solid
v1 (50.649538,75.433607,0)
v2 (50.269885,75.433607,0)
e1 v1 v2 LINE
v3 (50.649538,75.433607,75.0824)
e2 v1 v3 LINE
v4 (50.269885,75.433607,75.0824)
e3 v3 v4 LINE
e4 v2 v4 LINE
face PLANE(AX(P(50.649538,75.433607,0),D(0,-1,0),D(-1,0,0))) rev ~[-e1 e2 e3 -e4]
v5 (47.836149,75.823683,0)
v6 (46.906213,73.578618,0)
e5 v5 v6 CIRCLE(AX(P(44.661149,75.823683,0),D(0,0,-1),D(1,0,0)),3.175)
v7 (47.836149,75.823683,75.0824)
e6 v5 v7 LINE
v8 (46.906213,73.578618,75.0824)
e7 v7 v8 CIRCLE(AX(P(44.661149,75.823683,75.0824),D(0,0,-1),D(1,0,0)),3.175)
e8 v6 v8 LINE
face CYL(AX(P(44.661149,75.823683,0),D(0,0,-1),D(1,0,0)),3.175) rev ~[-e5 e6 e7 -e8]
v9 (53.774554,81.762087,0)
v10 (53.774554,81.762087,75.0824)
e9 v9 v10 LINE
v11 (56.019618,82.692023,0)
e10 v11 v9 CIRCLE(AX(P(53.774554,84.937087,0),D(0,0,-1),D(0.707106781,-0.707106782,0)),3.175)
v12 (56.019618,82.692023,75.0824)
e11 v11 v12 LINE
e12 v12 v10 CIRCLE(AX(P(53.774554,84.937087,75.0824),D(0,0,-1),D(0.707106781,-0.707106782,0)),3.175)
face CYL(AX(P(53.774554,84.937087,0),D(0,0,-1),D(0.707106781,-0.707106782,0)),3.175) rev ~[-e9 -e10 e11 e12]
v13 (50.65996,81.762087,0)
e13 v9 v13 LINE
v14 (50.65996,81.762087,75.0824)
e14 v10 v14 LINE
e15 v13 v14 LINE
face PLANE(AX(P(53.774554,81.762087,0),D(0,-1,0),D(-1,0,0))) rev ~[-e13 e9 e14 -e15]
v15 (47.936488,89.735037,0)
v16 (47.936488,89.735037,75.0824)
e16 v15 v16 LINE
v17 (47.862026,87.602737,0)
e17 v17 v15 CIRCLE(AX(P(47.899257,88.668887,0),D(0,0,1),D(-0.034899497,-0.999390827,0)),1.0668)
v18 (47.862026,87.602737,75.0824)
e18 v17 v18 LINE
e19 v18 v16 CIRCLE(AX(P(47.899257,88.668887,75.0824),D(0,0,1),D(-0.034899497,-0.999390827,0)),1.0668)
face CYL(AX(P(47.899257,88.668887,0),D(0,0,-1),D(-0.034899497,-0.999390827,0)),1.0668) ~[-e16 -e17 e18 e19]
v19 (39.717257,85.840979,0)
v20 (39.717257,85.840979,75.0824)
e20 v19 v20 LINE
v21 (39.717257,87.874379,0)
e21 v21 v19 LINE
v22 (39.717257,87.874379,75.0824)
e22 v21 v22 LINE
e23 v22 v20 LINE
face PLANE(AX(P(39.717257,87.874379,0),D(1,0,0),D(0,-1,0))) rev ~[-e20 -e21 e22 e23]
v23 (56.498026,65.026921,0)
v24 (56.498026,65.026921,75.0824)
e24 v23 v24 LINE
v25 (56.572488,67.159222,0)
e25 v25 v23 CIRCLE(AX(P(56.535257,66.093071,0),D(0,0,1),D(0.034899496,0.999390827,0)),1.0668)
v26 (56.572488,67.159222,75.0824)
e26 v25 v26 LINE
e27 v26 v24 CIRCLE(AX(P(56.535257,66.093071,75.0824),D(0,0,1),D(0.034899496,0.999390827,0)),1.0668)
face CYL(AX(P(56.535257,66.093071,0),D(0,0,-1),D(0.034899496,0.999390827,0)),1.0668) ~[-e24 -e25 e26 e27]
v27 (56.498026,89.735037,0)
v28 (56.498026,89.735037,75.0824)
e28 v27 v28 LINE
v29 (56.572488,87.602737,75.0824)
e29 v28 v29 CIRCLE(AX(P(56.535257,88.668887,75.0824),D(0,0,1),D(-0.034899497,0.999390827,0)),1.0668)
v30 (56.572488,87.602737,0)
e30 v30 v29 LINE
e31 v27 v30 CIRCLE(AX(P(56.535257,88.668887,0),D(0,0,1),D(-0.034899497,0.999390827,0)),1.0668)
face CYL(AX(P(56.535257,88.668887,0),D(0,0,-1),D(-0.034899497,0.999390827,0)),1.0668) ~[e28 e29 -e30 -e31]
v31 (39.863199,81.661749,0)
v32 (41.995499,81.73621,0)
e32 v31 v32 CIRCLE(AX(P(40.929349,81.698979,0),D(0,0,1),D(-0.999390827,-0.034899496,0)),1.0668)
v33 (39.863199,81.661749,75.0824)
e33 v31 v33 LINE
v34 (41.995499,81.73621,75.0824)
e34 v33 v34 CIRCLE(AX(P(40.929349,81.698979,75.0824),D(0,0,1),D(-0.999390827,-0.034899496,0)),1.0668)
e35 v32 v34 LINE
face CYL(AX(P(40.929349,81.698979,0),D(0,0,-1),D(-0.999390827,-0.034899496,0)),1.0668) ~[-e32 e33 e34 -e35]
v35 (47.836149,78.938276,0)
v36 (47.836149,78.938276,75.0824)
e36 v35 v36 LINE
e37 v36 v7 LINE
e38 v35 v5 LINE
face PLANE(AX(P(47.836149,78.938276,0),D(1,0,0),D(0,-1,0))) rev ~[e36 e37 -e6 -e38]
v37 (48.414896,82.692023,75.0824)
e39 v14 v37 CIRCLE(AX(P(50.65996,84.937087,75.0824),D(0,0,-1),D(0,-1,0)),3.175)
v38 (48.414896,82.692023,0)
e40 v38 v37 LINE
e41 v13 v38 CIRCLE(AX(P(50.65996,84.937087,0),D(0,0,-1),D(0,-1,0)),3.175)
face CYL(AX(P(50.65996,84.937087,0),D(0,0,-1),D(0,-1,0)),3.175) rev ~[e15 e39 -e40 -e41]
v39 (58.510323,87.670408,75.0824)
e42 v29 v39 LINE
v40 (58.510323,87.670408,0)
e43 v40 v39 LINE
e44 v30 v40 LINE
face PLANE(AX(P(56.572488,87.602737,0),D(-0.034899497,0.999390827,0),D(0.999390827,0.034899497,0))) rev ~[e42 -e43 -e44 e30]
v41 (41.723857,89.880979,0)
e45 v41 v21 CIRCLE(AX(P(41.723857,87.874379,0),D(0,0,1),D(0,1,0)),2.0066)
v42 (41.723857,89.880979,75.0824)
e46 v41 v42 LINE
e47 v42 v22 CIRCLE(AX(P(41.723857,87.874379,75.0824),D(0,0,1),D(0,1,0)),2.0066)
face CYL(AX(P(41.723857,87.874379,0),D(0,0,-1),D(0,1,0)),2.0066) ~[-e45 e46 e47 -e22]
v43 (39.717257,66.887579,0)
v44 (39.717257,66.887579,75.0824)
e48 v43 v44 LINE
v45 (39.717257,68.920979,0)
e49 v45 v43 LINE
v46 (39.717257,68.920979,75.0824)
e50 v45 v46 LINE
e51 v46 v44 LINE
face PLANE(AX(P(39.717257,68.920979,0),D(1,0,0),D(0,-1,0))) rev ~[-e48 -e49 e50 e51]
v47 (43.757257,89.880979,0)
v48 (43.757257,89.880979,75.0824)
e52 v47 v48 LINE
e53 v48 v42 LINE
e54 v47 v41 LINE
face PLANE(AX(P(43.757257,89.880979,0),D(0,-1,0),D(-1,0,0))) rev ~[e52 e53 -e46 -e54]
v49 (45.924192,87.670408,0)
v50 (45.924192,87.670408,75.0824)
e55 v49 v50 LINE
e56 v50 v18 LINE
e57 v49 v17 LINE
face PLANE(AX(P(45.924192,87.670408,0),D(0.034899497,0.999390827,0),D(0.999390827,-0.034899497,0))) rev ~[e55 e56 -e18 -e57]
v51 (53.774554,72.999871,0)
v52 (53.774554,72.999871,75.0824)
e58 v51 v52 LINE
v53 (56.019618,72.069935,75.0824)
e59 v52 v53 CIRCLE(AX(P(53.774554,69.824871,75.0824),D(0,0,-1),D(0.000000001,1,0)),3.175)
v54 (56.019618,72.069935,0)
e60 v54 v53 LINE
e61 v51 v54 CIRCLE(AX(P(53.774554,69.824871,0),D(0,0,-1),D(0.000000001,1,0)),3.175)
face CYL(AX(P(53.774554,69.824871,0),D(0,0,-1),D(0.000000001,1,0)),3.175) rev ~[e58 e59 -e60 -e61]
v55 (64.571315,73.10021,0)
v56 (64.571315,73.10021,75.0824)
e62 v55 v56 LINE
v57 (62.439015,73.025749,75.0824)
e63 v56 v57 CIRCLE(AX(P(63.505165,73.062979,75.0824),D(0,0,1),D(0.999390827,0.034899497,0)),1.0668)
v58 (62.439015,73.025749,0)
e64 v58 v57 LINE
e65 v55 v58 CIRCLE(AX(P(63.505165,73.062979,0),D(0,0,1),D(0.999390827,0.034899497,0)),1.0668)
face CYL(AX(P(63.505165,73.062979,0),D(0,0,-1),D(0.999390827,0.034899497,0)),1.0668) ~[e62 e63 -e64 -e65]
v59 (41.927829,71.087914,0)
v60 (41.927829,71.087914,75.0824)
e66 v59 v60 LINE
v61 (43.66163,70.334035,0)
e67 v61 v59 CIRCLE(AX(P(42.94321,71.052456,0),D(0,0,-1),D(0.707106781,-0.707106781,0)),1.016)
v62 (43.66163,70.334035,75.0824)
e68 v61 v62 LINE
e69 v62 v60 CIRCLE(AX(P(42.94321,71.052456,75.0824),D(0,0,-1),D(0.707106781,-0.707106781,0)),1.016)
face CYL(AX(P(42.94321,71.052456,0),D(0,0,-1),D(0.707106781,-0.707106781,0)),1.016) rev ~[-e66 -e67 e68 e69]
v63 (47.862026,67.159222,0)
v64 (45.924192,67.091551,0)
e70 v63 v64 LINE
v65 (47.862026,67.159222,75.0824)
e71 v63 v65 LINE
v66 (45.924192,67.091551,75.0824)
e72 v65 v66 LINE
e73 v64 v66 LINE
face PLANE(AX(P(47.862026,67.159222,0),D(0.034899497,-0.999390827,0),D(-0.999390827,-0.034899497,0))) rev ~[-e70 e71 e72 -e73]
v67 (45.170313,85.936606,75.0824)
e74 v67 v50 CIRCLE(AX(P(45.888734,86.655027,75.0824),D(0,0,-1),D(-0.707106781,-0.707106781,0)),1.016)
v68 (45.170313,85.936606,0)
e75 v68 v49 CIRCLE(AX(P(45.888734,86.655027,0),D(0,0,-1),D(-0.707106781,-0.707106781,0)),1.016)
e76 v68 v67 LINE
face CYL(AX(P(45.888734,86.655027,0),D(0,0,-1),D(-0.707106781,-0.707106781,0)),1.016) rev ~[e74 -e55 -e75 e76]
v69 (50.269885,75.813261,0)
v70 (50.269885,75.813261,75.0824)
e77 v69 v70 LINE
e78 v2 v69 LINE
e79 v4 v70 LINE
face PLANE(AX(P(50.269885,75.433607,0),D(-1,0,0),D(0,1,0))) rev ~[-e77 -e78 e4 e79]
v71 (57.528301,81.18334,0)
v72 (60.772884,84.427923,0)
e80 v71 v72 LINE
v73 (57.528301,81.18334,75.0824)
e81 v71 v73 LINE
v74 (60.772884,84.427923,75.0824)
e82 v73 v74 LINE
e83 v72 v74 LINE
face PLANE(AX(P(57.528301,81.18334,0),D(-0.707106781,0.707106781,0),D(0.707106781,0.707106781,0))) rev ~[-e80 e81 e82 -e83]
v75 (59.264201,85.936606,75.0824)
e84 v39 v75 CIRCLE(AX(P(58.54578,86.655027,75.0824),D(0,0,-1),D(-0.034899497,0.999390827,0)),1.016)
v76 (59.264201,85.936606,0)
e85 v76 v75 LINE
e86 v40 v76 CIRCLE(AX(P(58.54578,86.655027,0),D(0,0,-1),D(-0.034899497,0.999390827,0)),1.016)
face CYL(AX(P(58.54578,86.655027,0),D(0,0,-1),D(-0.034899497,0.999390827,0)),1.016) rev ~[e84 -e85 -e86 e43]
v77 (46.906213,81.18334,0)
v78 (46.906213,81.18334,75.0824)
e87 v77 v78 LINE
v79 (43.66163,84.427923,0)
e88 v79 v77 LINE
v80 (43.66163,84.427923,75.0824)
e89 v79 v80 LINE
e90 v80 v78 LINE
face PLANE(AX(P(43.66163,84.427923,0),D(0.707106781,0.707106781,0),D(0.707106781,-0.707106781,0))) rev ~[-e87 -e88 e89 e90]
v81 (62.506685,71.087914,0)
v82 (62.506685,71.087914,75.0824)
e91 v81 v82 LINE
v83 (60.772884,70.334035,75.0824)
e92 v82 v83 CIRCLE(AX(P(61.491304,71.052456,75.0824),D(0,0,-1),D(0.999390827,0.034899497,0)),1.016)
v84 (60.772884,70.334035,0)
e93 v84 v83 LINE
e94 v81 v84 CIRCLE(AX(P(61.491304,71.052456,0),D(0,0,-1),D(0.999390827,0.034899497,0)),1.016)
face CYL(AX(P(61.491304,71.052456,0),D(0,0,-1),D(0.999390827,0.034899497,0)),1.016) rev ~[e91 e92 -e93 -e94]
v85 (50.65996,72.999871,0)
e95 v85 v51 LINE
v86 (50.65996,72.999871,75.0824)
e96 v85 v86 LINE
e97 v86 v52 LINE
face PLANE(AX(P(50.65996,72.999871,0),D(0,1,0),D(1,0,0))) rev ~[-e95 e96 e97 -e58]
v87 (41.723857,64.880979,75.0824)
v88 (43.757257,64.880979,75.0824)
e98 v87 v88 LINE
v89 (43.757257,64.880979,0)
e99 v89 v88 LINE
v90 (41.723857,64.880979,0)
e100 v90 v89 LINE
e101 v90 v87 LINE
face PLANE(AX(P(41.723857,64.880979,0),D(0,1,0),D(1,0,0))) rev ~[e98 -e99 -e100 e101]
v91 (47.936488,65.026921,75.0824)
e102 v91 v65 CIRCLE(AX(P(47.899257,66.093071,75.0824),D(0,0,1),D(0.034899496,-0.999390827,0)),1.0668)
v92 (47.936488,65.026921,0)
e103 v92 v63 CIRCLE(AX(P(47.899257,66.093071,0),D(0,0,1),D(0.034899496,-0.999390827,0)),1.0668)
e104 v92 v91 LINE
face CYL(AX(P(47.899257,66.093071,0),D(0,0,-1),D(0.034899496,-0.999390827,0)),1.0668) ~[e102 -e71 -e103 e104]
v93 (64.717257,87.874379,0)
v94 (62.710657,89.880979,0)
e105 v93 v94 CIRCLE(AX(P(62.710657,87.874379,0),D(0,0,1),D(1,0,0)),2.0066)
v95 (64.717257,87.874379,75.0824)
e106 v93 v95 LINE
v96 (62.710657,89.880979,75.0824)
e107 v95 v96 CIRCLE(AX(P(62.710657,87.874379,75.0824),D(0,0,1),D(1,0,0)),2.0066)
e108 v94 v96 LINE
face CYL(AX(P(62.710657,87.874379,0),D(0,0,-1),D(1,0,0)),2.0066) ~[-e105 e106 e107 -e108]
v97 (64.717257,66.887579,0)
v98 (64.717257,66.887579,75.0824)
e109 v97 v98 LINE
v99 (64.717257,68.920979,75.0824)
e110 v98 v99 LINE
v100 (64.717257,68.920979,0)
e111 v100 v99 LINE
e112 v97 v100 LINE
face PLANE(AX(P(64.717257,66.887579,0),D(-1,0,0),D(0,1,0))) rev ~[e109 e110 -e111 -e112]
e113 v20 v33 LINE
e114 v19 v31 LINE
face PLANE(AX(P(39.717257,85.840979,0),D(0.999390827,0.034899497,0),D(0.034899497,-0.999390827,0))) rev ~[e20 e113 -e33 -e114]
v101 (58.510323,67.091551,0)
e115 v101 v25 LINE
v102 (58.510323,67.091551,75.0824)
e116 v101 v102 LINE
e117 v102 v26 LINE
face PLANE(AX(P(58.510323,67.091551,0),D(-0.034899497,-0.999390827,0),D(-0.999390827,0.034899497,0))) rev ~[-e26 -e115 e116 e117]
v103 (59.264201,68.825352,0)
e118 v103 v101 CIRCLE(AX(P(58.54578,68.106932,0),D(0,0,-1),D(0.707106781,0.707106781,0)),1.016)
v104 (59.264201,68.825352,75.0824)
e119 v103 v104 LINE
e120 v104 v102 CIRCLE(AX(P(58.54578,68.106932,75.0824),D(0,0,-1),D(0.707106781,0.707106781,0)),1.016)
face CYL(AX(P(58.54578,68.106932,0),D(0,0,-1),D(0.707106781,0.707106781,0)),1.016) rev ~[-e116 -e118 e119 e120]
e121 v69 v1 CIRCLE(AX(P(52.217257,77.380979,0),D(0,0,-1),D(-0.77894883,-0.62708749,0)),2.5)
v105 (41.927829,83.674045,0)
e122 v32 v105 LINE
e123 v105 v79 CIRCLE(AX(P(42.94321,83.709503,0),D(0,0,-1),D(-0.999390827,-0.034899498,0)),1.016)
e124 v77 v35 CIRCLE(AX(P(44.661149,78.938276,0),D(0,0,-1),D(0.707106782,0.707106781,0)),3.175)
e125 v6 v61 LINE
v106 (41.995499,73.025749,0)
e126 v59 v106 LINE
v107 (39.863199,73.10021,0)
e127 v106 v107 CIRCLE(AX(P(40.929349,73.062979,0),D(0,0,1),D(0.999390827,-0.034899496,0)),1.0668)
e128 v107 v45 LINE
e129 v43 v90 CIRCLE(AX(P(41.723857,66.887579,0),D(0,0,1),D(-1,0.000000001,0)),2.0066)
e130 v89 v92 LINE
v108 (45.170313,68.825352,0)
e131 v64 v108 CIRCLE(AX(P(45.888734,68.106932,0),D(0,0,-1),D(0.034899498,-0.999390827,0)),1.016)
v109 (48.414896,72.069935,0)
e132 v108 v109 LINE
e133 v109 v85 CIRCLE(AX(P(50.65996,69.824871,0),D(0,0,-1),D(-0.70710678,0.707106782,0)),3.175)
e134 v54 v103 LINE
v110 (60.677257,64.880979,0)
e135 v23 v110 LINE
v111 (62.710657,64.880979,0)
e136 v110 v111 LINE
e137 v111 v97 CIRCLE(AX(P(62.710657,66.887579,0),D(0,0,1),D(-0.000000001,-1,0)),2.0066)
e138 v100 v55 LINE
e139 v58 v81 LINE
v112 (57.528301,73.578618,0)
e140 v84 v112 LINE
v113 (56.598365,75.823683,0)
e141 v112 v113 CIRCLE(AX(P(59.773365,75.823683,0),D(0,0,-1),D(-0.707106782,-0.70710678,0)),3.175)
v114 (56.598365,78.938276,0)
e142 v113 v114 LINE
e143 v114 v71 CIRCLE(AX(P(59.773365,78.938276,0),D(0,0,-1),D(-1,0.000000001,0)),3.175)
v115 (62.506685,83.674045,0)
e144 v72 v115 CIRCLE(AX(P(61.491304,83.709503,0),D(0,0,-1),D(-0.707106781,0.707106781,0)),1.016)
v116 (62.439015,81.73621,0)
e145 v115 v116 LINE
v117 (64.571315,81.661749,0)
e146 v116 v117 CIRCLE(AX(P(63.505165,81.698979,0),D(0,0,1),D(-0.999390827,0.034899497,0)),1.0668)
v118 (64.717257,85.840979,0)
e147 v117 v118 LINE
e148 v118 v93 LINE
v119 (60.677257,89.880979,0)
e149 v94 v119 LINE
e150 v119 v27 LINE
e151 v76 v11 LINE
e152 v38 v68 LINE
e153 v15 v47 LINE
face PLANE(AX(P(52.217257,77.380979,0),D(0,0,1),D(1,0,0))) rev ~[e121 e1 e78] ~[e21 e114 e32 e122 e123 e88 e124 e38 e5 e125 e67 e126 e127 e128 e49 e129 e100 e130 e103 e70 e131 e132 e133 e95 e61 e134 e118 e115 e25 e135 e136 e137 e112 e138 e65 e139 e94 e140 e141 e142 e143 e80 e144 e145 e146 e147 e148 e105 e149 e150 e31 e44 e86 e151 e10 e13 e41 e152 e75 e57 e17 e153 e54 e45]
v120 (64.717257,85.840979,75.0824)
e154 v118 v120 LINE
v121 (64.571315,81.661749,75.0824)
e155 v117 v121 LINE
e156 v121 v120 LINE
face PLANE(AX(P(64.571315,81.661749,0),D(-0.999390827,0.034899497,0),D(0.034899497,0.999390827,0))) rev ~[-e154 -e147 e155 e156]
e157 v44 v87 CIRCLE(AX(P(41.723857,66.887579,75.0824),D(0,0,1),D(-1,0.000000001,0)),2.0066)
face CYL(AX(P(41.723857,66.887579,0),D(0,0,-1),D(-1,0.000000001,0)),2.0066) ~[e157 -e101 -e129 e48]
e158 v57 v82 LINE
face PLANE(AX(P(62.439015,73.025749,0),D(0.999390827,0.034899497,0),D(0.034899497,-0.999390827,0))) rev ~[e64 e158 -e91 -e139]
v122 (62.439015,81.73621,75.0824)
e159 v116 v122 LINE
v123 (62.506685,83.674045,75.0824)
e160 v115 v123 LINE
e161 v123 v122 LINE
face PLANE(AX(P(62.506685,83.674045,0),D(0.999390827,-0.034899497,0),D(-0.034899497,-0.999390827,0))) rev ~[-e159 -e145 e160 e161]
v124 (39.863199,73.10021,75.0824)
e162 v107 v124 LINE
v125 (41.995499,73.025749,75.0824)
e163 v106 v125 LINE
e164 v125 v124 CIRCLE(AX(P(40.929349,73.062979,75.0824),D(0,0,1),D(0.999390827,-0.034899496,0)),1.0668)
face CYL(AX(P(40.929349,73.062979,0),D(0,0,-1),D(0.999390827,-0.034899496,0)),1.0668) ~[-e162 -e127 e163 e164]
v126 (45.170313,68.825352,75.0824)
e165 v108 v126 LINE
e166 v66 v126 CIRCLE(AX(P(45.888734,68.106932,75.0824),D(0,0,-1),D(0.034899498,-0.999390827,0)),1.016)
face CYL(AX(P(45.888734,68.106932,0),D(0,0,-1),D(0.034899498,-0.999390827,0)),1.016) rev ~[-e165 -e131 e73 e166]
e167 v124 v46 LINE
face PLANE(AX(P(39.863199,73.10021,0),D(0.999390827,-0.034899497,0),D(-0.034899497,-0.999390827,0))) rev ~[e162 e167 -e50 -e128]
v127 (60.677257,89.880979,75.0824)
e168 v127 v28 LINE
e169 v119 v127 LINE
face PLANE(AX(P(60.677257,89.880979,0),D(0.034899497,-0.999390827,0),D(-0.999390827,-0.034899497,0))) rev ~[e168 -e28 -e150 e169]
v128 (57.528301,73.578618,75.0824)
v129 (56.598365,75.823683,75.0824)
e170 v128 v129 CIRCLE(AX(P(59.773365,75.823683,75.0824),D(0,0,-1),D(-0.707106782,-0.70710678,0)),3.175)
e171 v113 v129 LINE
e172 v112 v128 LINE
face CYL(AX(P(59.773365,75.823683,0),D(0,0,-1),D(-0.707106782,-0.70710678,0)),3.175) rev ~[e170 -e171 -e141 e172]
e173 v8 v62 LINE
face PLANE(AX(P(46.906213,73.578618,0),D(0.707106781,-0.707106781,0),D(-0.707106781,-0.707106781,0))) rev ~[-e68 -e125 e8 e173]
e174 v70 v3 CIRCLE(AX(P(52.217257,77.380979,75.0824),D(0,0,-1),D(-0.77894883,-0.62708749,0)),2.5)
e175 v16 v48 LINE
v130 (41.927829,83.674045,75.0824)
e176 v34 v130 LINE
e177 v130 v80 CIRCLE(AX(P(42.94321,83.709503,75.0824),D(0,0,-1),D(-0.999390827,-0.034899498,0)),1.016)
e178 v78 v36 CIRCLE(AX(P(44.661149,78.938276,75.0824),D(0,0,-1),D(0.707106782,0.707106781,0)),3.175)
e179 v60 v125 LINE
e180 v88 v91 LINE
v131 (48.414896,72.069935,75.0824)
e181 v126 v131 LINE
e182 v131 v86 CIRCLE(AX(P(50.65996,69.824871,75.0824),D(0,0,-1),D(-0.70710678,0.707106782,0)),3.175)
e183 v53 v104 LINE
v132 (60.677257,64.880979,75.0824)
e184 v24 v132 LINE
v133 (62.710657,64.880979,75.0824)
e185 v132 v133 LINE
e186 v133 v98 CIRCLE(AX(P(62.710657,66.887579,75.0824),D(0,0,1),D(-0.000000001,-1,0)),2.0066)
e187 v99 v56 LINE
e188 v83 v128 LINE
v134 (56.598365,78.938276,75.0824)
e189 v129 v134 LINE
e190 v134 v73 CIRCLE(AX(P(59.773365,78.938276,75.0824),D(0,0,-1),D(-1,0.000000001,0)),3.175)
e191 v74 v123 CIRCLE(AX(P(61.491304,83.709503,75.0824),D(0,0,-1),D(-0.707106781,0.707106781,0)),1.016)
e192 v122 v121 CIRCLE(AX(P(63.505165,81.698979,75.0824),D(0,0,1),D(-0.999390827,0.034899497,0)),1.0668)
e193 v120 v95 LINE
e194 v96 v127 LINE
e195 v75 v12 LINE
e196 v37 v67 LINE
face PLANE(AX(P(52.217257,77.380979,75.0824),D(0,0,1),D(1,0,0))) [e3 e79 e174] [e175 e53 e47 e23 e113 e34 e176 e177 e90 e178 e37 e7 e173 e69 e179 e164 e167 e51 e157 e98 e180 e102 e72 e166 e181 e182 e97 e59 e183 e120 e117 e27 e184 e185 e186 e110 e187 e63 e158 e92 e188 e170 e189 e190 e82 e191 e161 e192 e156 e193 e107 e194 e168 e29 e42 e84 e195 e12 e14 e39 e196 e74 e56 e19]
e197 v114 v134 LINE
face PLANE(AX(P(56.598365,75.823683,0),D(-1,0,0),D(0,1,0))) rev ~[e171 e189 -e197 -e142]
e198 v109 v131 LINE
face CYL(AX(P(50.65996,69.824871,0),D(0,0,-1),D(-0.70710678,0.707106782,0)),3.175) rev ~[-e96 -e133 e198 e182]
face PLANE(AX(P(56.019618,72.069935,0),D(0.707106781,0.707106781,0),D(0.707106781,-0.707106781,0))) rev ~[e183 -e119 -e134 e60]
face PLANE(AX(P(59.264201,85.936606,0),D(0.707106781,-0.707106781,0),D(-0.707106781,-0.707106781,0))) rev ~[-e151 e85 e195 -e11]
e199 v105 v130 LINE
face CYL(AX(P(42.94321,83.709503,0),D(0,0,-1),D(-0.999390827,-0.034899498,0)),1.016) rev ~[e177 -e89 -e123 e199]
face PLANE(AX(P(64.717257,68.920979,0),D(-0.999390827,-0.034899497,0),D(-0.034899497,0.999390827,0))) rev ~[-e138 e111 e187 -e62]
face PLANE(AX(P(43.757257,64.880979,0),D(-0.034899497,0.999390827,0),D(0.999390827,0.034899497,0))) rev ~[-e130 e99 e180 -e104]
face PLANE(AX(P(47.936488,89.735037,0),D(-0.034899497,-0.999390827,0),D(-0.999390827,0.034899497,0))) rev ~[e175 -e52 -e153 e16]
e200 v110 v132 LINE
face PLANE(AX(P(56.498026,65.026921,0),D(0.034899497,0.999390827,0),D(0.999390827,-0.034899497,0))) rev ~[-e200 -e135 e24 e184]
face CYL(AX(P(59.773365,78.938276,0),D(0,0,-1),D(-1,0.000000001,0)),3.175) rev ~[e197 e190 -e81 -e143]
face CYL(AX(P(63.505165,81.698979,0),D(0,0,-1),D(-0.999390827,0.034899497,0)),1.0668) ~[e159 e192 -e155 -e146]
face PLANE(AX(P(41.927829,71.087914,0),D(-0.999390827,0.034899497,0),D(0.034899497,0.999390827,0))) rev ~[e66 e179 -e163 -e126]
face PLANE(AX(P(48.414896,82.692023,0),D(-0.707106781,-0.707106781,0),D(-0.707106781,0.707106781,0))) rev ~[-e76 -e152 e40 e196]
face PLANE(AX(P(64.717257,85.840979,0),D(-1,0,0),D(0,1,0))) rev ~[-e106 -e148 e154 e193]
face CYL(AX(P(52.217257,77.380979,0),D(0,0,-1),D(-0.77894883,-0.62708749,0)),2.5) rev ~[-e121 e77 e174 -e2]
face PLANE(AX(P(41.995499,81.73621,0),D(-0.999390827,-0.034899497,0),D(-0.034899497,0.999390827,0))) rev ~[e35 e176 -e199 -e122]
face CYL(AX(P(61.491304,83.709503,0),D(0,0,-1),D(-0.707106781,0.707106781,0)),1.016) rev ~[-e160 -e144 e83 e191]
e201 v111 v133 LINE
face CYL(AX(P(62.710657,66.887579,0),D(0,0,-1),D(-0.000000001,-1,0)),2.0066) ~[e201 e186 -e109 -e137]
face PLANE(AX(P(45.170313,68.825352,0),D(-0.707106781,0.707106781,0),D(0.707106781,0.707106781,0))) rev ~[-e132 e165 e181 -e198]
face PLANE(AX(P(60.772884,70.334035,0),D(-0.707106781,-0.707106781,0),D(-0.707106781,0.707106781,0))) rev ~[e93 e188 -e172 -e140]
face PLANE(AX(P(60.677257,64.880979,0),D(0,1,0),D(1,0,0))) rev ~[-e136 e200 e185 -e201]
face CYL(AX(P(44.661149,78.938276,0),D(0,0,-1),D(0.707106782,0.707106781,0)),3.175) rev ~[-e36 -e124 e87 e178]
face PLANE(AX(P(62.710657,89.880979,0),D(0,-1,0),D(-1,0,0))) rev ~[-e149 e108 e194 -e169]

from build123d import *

# Parameters (mm, degrees)
BOSS_EXTRUDE1_DEPTH = 75.0824


with BuildPart() as part:
    # Model → Boss-Extrude1 (new body)
    with BuildSketch(Plane.XY):
        with BuildLine():
            Line((50.659960212, 72.999871414), (53.774553856, 72.999871414))
            ThreePointArc((53.774553856, 72.999871414), (54.989573754, 72.758188929), (56.019617887, 72.069935444))
            Line((56.019617887, 72.069935444), (59.264200891, 68.825352439))
            ThreePointArc((59.264200891, 68.825352439), (59.477513437, 67.701802895), (58.510322513, 67.091550869))
            Line((58.510322513, 67.091550869), (56.572487817, 67.159221548))
            ThreePointArc((56.572487817, 67.159221548), (55.4691069, 66.130302197), (56.498026251, 65.026921279))
            Line((56.498026251, 65.026921279), (60.677257034, 64.880979325))
            Line((60.677257034, 64.880979325), (62.710657034, 64.880979325))
            ThreePointArc((62.710657034, 64.880979325), (64.129537501, 65.468698857), (64.717257034, 66.887579325))
            Line((64.717257034, 66.887579325), (64.717257034, 68.920979325))
            Line((64.717257034, 68.920979325), (64.57131508, 73.100210108))
            ThreePointArc((64.57131508, 73.100210108), (63.467934162, 74.129129459), (62.439014811, 73.025748542))
            Line((62.439014811, 73.025748542), (62.50668549, 71.087913846))
            ThreePointArc((62.50668549, 71.087913846), (61.896433464, 70.120722922), (60.77288392, 70.334035468))
            Line((60.77288392, 70.334035468), (57.528300915, 73.578618472))
            ThreePointArc((57.528300915, 73.578618472), (56.84004743, 74.608662605), (56.598364945, 75.823682503))
            Line((56.598364945, 75.823682503), (56.598364945, 78.938276147))
            ThreePointArc((56.598364945, 78.938276147), (56.84004743, 80.153296044), (57.528300915, 81.183340177))
            Line((57.528300915, 81.183340177), (60.77288392, 84.427923182))
            ThreePointArc((60.77288392, 84.427923182), (61.896433464, 84.641235728), (62.50668549, 83.674044803))
            Line((62.50668549, 83.674044803), (62.439014811, 81.736210108))
            ThreePointArc((62.439014811, 81.736210108), (63.467934162, 80.63282919), (64.57131508, 81.661748542))
            Line((64.57131508, 81.661748542), (64.717257034, 85.840979325))
            Line((64.717257034, 85.840979325), (64.717257034, 87.874379325))
            ThreePointArc((64.717257034, 87.874379325), (64.129537501, 89.293259792), (62.710657034, 89.880979325))
            Line((62.710657034, 89.880979325), (60.677257034, 89.880979325))
            Line((60.677257034, 89.880979325), (56.498026251, 89.73503737))
            ThreePointArc((56.498026251, 89.73503737), (55.4691069, 88.631656452), (56.572487817, 87.602737101))
            Line((56.572487817, 87.602737101), (58.510322513, 87.67040778))
            ThreePointArc((58.510322513, 87.67040778), (59.477513437, 87.060155754), (59.264200891, 85.93660621))
            Line((59.264200891, 85.93660621), (56.019617887, 82.692023205))
            ThreePointArc((56.019617887, 82.692023205), (54.989573754, 82.00376972), (53.774553856, 81.762087236))
            Line((53.774553856, 81.762087236), (50.659960212, 81.762087236))
            ThreePointArc((50.659960212, 81.762087236), (49.444940315, 82.00376972), (48.414896182, 82.692023205))
            Line((48.414896182, 82.692023205), (45.170313177, 85.93660621))
            ThreePointArc((45.170313177, 85.93660621), (44.957000631, 87.060155754), (45.924191556, 87.67040778))
            Line((45.924191556, 87.67040778), (47.862026251, 87.602737101))
            ThreePointArc((47.862026251, 87.602737101), (48.965407169, 88.631656452), (47.936487817, 89.73503737))
            Line((47.936487817, 89.73503737), (43.757257034, 89.880979325))
            Line((43.757257034, 89.880979325), (41.723857034, 89.880979325))
            ThreePointArc((41.723857034, 89.880979325), (40.304976567, 89.293259792), (39.717257034, 87.874379325))
            Line((39.717257034, 87.874379325), (39.717257034, 85.840979325))
            Line((39.717257034, 85.840979325), (39.863198989, 81.661748542))
            ThreePointArc((39.863198989, 81.661748542), (40.966579907, 80.63282919), (41.995499258, 81.736210108))
            Line((41.995499258, 81.736210108), (41.927828579, 83.674044803))
            ThreePointArc((41.927828579, 83.674044803), (42.538080605, 84.641235728), (43.661630149, 84.427923182))
            Line((43.661630149, 84.427923182), (46.906213154, 81.183340177))
            ThreePointArc((46.906213154, 81.183340177), (47.594466639, 80.153296044), (47.836149123, 78.938276147))
            Line((47.836149123, 78.938276147), (47.836149123, 75.823682503))
            ThreePointArc((47.836149123, 75.823682503), (47.594466639, 74.608662605), (46.906213154, 73.578618472))
            Line((46.906213154, 73.578618472), (43.661630149, 70.334035468))
            ThreePointArc((43.661630149, 70.334035468), (42.538080605, 70.120722922), (41.927828579, 71.087913846))
            Line((41.927828579, 71.087913846), (41.995499258, 73.025748542))
            ThreePointArc((41.995499258, 73.025748542), (40.966579907, 74.129129459), (39.863198989, 73.100210108))
            Line((39.863198989, 73.100210108), (39.717257034, 68.920979325))
            Line((39.717257034, 68.920979325), (39.717257034, 66.887579325))
            ThreePointArc((39.717257034, 66.887579325), (40.304976567, 65.468698857), (41.723857034, 64.880979325))
            Line((41.723857034, 64.880979325), (43.757257034, 64.880979325))
            Line((43.757257034, 64.880979325), (47.936487817, 65.026921279))
            ThreePointArc((47.936487817, 65.026921279), (48.965407169, 66.130302197), (47.862026251, 67.159221548))
            Line((47.862026251, 67.159221548), (45.924191556, 67.091550869))
            ThreePointArc((45.924191556, 67.091550869), (44.957000631, 67.701802895), (45.170313177, 68.825352439))
            Line((45.170313177, 68.825352439), (48.414896182, 72.069935444))
            ThreePointArc((48.414896182, 72.069935444), (49.444940315, 72.758188929), (50.659960212, 72.999871414))
        make_face()
        with BuildLine():
            Line((50.64953831, 75.433607249), (50.269884959, 75.433607249))
            Line((50.269884959, 75.433607249), (50.269884959, 75.8132606))
            ThreePointArc((50.269884959, 75.8132606), (53.985023987, 79.148746278), (50.64953831, 75.433607249))
        make_face(mode=Mode.SUBTRACT)
    extrude(amount=BOSS_EXTRUDE1_DEPTH)


solid = part.part
